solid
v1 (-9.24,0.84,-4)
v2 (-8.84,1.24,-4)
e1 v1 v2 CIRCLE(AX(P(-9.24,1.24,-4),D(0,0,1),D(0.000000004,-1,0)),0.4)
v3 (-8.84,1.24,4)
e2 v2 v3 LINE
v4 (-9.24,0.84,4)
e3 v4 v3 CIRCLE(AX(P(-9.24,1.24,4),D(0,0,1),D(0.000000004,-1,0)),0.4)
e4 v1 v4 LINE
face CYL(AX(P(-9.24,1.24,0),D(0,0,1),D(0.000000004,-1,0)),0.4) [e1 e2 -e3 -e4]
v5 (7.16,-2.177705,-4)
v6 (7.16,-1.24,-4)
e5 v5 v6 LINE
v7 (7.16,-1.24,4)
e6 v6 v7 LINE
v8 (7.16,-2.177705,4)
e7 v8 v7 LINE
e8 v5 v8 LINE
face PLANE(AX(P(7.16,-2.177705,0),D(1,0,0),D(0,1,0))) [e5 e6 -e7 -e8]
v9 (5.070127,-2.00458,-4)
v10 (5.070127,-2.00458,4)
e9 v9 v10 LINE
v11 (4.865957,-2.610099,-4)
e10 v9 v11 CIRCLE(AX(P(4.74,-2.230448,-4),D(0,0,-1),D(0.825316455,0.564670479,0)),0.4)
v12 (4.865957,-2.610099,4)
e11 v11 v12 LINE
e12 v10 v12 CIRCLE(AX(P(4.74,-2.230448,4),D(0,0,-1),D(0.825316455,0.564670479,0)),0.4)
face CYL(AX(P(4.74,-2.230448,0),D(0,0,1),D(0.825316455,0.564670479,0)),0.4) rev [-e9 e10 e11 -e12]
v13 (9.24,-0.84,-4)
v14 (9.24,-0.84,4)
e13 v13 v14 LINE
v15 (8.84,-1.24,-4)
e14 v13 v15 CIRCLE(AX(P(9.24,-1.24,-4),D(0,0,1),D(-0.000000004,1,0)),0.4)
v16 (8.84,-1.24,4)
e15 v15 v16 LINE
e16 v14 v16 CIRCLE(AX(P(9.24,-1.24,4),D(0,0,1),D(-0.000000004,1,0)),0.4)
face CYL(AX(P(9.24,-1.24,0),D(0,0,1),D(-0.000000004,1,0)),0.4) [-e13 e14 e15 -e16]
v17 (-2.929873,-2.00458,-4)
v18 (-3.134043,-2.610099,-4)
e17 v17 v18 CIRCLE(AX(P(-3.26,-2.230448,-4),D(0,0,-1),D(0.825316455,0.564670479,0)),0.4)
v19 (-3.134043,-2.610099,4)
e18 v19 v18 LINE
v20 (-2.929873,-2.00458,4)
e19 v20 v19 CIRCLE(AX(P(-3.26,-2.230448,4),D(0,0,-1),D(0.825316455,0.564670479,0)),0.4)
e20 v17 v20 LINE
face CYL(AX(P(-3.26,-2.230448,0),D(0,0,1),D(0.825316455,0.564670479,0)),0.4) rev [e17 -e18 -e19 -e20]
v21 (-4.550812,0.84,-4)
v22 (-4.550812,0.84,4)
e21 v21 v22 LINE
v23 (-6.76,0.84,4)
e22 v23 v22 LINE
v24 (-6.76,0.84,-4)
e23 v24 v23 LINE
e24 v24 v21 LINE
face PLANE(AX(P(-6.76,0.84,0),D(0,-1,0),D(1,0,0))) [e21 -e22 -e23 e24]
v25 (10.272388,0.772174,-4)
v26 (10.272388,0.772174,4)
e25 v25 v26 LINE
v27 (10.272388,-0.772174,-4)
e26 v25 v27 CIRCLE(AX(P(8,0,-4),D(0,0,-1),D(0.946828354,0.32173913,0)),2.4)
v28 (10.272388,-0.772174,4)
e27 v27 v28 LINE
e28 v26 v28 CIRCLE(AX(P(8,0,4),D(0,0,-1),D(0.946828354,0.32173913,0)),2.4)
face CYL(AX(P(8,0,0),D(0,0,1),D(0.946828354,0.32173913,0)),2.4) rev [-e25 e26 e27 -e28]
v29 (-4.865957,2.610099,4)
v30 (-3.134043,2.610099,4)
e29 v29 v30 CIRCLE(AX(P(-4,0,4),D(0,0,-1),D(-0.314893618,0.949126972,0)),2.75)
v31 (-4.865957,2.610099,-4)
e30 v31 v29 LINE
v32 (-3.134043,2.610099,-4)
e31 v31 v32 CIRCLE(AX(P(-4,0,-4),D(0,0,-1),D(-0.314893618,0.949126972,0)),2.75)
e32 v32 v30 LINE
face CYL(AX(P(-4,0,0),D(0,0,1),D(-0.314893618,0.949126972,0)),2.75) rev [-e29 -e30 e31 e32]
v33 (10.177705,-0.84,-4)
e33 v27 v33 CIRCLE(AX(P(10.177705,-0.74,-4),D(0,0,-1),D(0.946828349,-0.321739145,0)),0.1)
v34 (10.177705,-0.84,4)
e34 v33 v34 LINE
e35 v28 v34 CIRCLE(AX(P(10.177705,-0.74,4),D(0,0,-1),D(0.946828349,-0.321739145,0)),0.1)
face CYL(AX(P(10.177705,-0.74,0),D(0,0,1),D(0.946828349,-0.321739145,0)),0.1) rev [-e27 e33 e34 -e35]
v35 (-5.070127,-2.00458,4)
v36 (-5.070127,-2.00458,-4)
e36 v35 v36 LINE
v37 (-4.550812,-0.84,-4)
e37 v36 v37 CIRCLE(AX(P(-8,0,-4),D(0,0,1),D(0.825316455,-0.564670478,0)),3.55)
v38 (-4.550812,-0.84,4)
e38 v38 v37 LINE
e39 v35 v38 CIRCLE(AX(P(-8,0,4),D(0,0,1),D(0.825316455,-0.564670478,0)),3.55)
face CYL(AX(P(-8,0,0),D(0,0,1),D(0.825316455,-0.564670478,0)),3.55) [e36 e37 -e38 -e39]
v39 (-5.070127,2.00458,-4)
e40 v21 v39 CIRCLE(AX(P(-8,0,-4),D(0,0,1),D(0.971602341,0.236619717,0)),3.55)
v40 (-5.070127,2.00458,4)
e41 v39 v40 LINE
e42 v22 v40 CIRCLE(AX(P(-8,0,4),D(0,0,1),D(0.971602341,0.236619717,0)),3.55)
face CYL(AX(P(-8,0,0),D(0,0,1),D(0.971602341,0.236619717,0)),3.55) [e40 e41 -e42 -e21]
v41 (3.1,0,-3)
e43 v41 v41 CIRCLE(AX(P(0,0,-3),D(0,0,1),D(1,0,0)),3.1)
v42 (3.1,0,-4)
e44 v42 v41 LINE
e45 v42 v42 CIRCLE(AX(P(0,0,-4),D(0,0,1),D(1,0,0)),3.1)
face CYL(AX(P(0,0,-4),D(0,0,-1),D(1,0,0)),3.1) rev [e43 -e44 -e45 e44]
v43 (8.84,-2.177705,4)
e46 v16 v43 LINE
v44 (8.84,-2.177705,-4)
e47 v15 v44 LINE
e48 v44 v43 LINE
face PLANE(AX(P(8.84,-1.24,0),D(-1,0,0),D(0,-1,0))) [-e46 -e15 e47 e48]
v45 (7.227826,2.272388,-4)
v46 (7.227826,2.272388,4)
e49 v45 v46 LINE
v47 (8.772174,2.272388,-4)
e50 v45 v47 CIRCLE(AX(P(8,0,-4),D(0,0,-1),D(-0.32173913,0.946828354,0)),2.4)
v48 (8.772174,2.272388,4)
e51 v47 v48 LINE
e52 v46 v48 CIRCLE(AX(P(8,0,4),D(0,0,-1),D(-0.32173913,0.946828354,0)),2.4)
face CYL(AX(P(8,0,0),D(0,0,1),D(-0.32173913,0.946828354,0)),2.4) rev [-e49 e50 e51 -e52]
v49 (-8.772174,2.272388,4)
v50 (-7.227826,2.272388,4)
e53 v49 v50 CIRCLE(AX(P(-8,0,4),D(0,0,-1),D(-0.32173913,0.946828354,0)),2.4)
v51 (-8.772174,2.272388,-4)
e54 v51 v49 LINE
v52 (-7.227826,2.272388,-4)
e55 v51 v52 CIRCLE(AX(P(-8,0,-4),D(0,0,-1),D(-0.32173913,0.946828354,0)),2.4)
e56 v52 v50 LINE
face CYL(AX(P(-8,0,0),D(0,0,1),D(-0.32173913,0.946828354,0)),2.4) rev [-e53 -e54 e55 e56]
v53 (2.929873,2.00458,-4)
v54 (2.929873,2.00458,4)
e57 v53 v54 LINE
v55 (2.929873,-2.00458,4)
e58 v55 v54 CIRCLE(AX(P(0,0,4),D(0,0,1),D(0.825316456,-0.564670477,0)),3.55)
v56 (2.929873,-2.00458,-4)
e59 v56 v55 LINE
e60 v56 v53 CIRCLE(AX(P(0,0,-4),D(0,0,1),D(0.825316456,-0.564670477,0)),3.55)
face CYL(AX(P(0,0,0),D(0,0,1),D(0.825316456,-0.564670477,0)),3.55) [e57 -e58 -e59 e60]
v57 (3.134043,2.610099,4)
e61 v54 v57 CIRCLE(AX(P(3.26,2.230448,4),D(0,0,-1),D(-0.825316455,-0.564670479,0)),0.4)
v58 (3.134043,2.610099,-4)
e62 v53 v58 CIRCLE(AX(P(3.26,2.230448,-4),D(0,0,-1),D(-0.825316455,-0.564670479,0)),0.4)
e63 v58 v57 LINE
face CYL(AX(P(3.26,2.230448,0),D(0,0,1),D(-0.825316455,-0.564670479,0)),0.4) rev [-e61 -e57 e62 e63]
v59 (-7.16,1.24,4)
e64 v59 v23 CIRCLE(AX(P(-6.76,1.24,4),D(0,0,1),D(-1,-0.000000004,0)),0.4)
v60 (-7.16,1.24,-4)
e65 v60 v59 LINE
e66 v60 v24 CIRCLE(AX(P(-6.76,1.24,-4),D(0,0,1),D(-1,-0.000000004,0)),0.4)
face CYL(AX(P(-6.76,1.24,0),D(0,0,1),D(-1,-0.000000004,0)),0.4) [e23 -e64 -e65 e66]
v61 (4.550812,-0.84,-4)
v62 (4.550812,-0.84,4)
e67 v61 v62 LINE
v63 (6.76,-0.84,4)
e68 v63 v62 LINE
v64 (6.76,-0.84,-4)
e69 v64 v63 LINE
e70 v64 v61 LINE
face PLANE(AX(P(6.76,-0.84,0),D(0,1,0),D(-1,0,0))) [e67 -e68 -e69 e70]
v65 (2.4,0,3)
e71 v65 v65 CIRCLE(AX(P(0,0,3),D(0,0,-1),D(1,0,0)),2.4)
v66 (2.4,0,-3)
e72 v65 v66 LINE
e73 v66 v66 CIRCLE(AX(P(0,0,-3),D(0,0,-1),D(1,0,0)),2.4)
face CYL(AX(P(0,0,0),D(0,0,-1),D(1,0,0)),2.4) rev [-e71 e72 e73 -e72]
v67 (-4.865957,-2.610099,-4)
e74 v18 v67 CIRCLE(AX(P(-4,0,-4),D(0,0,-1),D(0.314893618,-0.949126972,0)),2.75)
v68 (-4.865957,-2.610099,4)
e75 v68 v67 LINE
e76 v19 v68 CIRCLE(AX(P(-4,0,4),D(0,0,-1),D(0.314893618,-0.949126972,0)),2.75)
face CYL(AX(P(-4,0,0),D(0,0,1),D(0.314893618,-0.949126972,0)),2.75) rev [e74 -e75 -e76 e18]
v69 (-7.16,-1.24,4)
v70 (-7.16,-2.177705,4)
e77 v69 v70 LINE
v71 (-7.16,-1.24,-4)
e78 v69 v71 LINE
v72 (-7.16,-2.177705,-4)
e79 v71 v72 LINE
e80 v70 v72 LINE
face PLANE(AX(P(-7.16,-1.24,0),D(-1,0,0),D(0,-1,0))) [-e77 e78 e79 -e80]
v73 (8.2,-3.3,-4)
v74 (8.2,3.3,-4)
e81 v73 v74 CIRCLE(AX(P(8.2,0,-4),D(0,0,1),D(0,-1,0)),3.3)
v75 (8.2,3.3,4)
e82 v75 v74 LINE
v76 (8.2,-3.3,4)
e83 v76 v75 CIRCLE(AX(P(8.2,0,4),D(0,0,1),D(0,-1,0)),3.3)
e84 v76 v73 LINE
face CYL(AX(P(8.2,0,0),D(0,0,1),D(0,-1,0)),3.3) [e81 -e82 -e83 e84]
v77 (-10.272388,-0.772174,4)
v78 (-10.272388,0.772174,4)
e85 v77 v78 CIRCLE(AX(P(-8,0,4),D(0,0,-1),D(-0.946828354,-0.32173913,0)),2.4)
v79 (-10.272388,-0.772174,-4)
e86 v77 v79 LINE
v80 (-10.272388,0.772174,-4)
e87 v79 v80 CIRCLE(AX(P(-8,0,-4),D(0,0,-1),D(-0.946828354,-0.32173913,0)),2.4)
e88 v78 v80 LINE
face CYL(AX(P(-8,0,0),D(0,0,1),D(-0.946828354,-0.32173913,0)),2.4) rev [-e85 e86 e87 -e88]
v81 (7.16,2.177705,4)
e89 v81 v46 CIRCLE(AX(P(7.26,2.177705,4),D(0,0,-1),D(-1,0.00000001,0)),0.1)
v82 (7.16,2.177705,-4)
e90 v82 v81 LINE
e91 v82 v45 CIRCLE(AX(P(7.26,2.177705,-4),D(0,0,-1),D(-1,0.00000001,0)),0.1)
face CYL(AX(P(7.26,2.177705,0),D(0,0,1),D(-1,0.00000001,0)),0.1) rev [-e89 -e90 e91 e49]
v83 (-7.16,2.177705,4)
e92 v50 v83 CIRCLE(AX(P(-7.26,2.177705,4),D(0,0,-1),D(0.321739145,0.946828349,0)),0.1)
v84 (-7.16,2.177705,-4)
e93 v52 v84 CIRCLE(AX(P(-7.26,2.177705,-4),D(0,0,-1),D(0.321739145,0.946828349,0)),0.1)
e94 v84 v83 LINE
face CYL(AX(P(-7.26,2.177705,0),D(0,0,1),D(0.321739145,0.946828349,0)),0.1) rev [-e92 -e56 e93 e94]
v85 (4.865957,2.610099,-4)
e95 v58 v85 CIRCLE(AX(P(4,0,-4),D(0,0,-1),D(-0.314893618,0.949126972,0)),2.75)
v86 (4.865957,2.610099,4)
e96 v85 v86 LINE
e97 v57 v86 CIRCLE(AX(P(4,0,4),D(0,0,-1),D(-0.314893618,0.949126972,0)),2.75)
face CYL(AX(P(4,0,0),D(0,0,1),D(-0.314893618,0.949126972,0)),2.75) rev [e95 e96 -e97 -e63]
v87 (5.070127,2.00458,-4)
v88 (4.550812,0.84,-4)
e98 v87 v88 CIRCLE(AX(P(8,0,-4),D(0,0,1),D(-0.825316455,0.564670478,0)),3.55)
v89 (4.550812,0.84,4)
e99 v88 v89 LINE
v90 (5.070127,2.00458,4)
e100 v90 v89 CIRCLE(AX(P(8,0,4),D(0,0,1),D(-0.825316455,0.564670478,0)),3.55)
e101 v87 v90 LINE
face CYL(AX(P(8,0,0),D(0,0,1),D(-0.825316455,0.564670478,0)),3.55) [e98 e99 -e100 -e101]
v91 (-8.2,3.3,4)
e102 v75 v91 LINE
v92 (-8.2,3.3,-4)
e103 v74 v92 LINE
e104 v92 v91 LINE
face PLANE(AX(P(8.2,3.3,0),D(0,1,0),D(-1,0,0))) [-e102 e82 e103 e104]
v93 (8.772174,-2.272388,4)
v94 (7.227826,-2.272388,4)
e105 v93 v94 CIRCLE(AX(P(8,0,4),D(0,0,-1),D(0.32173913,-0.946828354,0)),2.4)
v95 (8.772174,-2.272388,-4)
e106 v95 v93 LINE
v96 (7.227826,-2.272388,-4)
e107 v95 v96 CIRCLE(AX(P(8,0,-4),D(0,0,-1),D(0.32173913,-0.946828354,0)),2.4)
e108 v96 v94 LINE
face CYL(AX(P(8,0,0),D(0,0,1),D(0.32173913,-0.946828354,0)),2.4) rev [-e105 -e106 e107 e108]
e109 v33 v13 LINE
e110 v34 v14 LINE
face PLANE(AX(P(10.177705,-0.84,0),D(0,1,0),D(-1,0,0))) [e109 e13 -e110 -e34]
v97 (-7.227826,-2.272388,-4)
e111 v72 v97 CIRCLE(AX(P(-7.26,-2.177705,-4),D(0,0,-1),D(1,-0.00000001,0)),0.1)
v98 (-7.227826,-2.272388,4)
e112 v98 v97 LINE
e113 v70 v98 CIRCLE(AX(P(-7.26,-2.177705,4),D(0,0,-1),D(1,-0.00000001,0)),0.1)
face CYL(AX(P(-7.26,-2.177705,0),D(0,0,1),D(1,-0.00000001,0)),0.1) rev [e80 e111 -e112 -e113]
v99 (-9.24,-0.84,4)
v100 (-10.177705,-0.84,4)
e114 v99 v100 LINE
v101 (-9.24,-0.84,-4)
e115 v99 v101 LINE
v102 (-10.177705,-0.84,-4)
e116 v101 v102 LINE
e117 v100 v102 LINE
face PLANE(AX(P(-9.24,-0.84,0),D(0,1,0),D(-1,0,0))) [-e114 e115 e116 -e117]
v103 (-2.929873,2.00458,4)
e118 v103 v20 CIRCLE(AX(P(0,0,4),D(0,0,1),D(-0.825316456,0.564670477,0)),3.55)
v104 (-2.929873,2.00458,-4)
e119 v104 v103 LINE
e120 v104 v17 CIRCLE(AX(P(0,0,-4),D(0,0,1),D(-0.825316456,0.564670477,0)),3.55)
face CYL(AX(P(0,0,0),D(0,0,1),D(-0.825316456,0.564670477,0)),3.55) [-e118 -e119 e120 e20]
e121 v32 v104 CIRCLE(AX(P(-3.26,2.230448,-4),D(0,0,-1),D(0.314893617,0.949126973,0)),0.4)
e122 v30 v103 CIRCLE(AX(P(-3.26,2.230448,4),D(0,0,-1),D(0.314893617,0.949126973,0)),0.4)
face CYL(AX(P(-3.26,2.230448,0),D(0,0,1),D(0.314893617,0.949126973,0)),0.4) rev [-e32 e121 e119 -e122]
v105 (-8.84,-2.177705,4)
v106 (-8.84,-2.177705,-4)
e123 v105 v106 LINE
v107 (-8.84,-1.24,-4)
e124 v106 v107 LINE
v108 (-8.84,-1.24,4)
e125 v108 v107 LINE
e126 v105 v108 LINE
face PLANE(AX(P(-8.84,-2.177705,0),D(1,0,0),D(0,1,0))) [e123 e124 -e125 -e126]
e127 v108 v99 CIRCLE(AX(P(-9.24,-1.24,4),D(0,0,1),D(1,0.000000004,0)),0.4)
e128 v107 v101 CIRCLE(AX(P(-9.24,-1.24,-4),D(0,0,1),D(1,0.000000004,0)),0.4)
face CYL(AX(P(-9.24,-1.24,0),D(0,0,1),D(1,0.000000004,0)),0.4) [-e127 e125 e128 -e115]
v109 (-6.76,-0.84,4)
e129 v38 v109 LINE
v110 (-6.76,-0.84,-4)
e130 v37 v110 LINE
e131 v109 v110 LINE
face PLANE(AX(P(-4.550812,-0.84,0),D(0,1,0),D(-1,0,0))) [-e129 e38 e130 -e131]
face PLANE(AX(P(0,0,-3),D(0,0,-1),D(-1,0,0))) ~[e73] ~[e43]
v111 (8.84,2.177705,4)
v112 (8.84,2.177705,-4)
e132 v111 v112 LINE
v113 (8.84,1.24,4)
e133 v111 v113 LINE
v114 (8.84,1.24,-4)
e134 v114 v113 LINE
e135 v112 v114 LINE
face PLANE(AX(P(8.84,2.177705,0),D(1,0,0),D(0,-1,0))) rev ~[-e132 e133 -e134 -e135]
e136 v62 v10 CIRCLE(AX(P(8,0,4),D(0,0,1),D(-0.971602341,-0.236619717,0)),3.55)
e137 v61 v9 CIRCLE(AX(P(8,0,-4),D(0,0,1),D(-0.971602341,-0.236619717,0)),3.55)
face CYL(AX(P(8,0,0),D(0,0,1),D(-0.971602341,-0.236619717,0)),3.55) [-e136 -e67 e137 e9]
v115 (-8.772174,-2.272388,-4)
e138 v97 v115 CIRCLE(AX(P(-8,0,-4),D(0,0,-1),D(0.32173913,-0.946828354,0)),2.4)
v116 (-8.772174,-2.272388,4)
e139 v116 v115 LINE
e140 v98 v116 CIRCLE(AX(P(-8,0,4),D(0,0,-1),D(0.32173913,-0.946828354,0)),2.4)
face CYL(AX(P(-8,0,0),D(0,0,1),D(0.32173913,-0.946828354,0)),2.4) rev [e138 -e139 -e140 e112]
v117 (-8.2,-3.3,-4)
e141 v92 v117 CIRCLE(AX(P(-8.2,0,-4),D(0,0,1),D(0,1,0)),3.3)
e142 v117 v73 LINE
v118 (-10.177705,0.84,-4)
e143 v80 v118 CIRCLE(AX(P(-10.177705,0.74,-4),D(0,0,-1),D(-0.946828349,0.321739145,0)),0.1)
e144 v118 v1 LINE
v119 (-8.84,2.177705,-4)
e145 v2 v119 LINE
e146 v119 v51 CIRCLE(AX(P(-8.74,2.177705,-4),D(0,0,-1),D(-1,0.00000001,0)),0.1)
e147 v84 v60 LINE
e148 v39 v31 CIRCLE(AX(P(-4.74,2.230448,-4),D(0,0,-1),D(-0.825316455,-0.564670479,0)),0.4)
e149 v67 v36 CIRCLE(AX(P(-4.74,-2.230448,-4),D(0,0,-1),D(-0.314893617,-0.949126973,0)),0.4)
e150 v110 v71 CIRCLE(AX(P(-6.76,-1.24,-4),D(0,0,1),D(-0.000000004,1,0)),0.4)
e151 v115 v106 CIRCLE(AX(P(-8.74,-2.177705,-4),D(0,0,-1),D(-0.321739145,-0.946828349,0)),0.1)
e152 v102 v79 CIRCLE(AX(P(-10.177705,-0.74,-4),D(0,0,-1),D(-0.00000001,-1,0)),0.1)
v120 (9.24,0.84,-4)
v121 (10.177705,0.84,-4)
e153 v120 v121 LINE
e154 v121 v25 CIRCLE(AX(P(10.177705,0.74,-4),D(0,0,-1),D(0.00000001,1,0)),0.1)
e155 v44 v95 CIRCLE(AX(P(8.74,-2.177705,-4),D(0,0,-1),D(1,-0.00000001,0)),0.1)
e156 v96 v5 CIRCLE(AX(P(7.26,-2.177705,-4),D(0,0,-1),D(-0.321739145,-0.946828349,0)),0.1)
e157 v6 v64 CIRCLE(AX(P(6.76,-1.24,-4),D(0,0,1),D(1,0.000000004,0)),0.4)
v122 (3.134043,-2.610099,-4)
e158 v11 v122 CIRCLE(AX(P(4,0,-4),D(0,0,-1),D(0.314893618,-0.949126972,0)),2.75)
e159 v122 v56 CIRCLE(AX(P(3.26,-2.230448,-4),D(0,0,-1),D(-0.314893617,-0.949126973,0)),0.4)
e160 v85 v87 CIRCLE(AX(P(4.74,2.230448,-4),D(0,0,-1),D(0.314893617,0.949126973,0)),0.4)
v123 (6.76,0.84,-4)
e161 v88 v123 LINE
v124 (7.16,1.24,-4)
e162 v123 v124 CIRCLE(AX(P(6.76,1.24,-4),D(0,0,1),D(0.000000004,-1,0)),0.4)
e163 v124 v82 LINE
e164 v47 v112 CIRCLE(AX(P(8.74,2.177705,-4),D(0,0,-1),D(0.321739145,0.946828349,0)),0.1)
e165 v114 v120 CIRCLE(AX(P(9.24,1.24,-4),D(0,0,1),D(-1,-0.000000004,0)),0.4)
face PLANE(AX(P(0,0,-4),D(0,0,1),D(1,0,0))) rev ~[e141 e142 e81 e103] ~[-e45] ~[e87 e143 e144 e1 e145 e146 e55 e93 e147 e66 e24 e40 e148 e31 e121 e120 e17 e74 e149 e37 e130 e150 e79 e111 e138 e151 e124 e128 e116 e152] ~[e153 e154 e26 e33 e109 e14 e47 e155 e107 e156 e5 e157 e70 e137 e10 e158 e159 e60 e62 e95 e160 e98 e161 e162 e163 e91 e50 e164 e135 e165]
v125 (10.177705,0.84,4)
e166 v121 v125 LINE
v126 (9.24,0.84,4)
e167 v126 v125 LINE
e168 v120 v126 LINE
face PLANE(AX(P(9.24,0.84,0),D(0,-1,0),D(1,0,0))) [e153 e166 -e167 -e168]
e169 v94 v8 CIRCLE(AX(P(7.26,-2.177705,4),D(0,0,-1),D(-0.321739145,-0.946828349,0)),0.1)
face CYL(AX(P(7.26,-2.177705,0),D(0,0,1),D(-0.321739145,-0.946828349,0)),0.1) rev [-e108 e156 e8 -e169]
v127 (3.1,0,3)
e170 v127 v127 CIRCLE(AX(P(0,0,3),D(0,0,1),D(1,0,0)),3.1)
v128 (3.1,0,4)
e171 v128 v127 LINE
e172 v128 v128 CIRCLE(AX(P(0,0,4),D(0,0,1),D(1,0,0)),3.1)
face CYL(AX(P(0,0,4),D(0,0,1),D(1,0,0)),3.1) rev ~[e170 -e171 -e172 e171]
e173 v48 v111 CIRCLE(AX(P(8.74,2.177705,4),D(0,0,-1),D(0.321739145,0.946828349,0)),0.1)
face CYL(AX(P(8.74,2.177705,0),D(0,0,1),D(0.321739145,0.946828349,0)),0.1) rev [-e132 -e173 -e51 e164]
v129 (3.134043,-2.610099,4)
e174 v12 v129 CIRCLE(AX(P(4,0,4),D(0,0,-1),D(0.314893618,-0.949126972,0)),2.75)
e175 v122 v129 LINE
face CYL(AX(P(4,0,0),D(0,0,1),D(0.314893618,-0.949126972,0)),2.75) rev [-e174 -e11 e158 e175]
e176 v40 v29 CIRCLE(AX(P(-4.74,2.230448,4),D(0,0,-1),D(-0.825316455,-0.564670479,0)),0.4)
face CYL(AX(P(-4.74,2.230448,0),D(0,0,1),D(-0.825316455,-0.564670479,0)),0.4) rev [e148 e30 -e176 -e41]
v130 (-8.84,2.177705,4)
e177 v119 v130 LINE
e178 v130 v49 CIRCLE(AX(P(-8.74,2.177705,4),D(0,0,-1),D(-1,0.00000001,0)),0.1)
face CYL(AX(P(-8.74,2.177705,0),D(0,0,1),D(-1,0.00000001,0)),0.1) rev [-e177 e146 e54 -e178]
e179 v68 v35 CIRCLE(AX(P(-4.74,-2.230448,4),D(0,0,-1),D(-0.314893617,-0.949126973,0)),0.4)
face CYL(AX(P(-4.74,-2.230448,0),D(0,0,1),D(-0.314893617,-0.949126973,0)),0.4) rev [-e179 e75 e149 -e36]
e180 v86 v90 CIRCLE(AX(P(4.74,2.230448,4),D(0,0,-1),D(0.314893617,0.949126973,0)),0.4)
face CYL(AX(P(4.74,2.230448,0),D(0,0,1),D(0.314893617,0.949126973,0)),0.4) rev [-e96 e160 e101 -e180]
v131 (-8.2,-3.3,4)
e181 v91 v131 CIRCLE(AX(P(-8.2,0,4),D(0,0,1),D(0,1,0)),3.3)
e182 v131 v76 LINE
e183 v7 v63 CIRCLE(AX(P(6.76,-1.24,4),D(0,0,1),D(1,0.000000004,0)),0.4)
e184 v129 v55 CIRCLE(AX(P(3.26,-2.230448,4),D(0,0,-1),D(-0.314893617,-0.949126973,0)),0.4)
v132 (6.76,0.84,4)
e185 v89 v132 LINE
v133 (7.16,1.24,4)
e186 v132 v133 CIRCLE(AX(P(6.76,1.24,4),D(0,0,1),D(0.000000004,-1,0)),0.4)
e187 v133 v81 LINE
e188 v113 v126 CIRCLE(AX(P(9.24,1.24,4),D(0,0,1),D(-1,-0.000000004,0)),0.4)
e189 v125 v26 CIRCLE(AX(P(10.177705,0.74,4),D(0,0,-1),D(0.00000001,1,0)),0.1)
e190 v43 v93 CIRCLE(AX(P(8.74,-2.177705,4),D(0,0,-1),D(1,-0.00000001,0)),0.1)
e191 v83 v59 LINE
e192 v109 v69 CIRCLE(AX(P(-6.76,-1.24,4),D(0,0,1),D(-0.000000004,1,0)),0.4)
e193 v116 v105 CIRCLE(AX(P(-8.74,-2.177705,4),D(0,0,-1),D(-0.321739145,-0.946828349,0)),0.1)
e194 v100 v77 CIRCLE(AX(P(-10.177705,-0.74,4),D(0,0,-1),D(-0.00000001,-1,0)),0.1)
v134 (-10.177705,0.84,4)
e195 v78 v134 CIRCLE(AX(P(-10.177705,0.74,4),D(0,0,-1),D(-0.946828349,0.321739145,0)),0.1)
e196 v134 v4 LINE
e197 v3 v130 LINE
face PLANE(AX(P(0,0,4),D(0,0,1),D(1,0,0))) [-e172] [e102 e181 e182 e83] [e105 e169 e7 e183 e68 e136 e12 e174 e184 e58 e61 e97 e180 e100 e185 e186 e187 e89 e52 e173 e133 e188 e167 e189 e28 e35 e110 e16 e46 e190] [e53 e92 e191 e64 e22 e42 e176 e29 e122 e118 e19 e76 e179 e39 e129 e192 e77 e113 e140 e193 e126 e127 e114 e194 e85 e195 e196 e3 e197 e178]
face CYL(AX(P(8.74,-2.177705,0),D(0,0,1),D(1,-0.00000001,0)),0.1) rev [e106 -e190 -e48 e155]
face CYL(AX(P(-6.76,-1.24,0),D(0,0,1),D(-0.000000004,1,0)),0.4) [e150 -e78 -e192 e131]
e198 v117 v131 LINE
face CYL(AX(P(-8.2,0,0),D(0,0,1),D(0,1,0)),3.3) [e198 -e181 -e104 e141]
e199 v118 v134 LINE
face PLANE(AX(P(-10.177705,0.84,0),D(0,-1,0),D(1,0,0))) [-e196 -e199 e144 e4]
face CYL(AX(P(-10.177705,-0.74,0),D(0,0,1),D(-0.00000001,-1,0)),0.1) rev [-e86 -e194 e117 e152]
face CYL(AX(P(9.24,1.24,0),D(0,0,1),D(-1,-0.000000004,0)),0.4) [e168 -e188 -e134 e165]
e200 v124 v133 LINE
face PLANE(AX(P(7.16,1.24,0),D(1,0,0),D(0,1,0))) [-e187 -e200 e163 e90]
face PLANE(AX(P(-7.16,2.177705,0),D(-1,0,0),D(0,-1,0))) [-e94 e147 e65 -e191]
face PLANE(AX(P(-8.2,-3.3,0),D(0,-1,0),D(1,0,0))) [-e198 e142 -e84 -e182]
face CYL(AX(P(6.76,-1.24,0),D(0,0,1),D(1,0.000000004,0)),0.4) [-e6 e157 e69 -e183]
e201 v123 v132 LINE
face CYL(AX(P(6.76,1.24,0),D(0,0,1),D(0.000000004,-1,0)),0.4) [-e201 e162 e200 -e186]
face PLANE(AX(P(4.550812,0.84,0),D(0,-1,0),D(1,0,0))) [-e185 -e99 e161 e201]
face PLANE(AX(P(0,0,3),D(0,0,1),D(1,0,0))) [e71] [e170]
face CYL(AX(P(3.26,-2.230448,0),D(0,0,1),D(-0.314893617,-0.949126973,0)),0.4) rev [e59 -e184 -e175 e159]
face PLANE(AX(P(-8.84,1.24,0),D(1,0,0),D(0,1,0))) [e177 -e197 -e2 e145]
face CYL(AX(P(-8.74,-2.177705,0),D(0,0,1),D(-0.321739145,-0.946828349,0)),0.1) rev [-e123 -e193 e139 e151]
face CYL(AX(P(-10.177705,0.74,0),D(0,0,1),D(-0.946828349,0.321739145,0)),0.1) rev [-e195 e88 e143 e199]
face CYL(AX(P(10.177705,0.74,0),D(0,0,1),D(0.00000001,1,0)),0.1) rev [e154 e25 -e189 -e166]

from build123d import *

# Parameters (mm, degrees)
SKETCH2_R           = 2.4
BOSS_EXTRUDE1_DEPTH = 4
SKETCH4_R           = 3.1
CUT_EXTRUDE1_DEPTH  = 1


with BuildPart() as part:
    # Sketch2 → Boss-Extrude1 (new, symmetric)
    with BuildSketch(Plane.XY):
        with BuildLine():
            Line((8.2, 3.3), (-8.2, 3.3))
            ThreePointArc((-8.2, 3.3), (-11.5, 0), (-8.2, -3.3))
            Line((-8.2, -3.3), (8.2, -3.3))
            ThreePointArc((8.2, -3.3), (11.5, 0), (8.2, 3.3))
        make_face()
        with BuildLine():
            Line((-10.177705214, 0.84), (-9.24, 0.84))
            ThreePointArc((-9.24, 0.84), (-8.957157288, 0.957157288), (-8.84, 1.24))
            Line((-8.84, 1.24), (-8.84, 2.177705214))
            ThreePointArc((-8.84, 2.177705214), (-8.821293884, 2.235940121), (-8.772173913, 2.27238805))
            ThreePointArc((-8.772173913, 2.27238805), (-8, 2.4), (-7.227826087, 2.27238805))
            ThreePointArc((-7.227826087, 2.27238805), (-7.178706116, 2.235940121), (-7.16, 2.177705214))
            Line((-7.16, 2.177705214), (-7.16, 1.24))
            ThreePointArc((-7.16, 1.24), (-7.042842712, 0.957157288), (-6.76, 0.84))
            Line((-6.76, 0.84), (-5.822294786, 0.84))
            Line((-5.822294786, 0.84), (-5.751800721, 0.84))
            Line((-5.751800721, 0.84), (-4.55081169, 0.84))
            ThreePointArc((-4.55081169, 0.84), (-4.757752494, 1.445797742), (-5.070126582, 2.004580194))
            ThreePointArc((-5.070126582, 2.004580194), (-5.119033599, 2.358251088), (-4.865957447, 2.610099174))
            ThreePointArc((-4.865957447, 2.610099174), (-4, 2.75), (-3.134042553, 2.610099174))
            ThreePointArc((-3.134042553, 2.610099174), (-2.880966401, 2.358251088), (-2.929873418, 2.004580194))
            ThreePointArc((-2.929873418, 2.004580194), (-3.55, 0), (-2.929873418, -2.004580194))
            ThreePointArc((-2.929873418, -2.004580194), (-2.880966401, -2.358251088), (-3.134042553, -2.610099174))
            ThreePointArc((-3.134042553, -2.610099174), (-4, -2.75), (-4.865957447, -2.610099174))
            ThreePointArc((-4.865957447, -2.610099174), (-5.119033599, -2.358251088), (-5.070126582, -2.004580194))
            ThreePointArc((-5.070126582, -2.004580194), (-4.757752494, -1.445797742), (-4.55081169, -0.84))
            Line((-4.55081169, -0.84), (-5.751800721, -0.84))
            Line((-5.751800721, -0.84), (-5.822294786, -0.84))
            Line((-5.822294786, -0.84), (-6.76, -0.84))
            ThreePointArc((-6.76, -0.84), (-7.042842712, -0.957157288), (-7.16, -1.24))
            Line((-7.16, -1.24), (-7.16, -2.177705214))
            ThreePointArc((-7.16, -2.177705214), (-7.178706116, -2.235940121), (-7.227826087, -2.27238805))
            ThreePointArc((-7.227826087, -2.27238805), (-8, -2.4), (-8.772173913, -2.27238805))
            ThreePointArc((-8.772173913, -2.27238805), (-8.821293884, -2.235940121), (-8.84, -2.177705214))
            Line((-8.84, -2.177705214), (-8.84, -1.24))
            ThreePointArc((-8.84, -1.24), (-8.957157288, -0.957157288), (-9.24, -0.84))
            Line((-9.24, -0.84), (-10.177705214, -0.84))
            ThreePointArc((-10.177705214, -0.84), (-10.235940121, -0.821293884), (-10.27238805, -0.772173913))
            ThreePointArc((-10.27238805, -0.772173913), (-10.4, 0), (-10.27238805, 0.772173913))
            ThreePointArc((-10.27238805, 0.772173913), (-10.235940121, 0.821293884), (-10.177705214, 0.84))
        make_face(mode=Mode.SUBTRACT)
        Circle(SKETCH2_R, mode=Mode.SUBTRACT)
        with BuildLine():
            Line((8.84, 2.177705214), (8.84, 1.24))
            ThreePointArc((8.84, 1.24), (8.957157288, 0.957157288), (9.24, 0.84))
            Line((9.24, 0.84), (10.177705214, 0.84))
            ThreePointArc((10.177705214, 0.84), (10.235940121, 0.821293884), (10.27238805, 0.772173913))
            ThreePointArc((10.27238805, 0.772173913), (10.4, 0), (10.27238805, -0.772173913))
            ThreePointArc((10.27238805, -0.772173913), (10.235940121, -0.821293884), (10.177705214, -0.84))
            Line((10.177705214, -0.84), (9.24, -0.84))
            ThreePointArc((9.24, -0.84), (8.957157288, -0.957157288), (8.84, -1.24))
            Line((8.84, -1.24), (8.84, -2.177705214))
            ThreePointArc((8.84, -2.177705214), (8.821293884, -2.235940121), (8.772173913, -2.27238805))
            ThreePointArc((8.772173913, -2.27238805), (8, -2.4), (7.227826087, -2.27238805))
            ThreePointArc((7.227826087, -2.27238805), (7.178706116, -2.235940121), (7.16, -2.177705214))
            Line((7.16, -2.177705214), (7.16, -1.24))
            ThreePointArc((7.16, -1.24), (7.042842712, -0.957157288), (6.76, -0.84))
            Line((6.76, -0.84), (5.822294786, -0.84))
            Line((5.822294786, -0.84), (5.751800721, -0.84))
            Line((5.751800721, -0.84), (4.55081169, -0.84))
            ThreePointArc((4.55081169, -0.84), (4.757752494, -1.445797742), (5.070126582, -2.004580194))
            ThreePointArc((5.070126582, -2.004580194), (5.119033599, -2.358251088), (4.865957447, -2.610099174))
            ThreePointArc((4.865957447, -2.610099174), (4, -2.75), (3.134042553, -2.610099174))
            ThreePointArc((3.134042553, -2.610099174), (2.880966401, -2.358251088), (2.929873418, -2.004580194))
            ThreePointArc((2.929873418, -2.004580194), (3.55, 0), (2.929873418, 2.004580194))
            ThreePointArc((2.929873418, 2.004580194), (2.880966401, 2.358251088), (3.134042553, 2.610099174))
            ThreePointArc((3.134042553, 2.610099174), (4, 2.75), (4.865957447, 2.610099174))
            ThreePointArc((4.865957447, 2.610099174), (5.119033599, 2.358251088), (5.070126582, 2.004580194))
            ThreePointArc((5.070126582, 2.004580194), (4.757752494, 1.445797742), (4.55081169, 0.84))
            Line((4.55081169, 0.84), (5.751800721, 0.84))
            Line((5.751800721, 0.84), (5.822294786, 0.84))
            Line((5.822294786, 0.84), (6.76, 0.84))
            ThreePointArc((6.76, 0.84), (7.042842712, 0.957157288), (7.16, 1.24))
            Line((7.16, 1.24), (7.16, 2.177705214))
            ThreePointArc((7.16, 2.177705214), (7.178706116, 2.235940121), (7.227826087, 2.27238805))
            ThreePointArc((7.227826087, 2.27238805), (8, 2.4), (8.772173913, 2.27238805))
            ThreePointArc((8.772173913, 2.27238805), (8.821293884, 2.235940121), (8.84, 2.177705214))
        make_face(mode=Mode.SUBTRACT)
    extrude(amount=BOSS_EXTRUDE1_DEPTH, both=True)

    # Sketch4 → Cut-Extrude1 (cut)
    with BuildSketch(Plane.XY.offset(4)):
        Circle(SKETCH4_R)
    cut_extrude1 = extrude(amount=-CUT_EXTRUDE1_DEPTH, mode=Mode.SUBTRACT)

    # Mirror1: Cut-Extrude1 across plane
    add(cut_extrude1.mirror(Plane.XY), mode=Mode.SUBTRACT)


solid = part.part
